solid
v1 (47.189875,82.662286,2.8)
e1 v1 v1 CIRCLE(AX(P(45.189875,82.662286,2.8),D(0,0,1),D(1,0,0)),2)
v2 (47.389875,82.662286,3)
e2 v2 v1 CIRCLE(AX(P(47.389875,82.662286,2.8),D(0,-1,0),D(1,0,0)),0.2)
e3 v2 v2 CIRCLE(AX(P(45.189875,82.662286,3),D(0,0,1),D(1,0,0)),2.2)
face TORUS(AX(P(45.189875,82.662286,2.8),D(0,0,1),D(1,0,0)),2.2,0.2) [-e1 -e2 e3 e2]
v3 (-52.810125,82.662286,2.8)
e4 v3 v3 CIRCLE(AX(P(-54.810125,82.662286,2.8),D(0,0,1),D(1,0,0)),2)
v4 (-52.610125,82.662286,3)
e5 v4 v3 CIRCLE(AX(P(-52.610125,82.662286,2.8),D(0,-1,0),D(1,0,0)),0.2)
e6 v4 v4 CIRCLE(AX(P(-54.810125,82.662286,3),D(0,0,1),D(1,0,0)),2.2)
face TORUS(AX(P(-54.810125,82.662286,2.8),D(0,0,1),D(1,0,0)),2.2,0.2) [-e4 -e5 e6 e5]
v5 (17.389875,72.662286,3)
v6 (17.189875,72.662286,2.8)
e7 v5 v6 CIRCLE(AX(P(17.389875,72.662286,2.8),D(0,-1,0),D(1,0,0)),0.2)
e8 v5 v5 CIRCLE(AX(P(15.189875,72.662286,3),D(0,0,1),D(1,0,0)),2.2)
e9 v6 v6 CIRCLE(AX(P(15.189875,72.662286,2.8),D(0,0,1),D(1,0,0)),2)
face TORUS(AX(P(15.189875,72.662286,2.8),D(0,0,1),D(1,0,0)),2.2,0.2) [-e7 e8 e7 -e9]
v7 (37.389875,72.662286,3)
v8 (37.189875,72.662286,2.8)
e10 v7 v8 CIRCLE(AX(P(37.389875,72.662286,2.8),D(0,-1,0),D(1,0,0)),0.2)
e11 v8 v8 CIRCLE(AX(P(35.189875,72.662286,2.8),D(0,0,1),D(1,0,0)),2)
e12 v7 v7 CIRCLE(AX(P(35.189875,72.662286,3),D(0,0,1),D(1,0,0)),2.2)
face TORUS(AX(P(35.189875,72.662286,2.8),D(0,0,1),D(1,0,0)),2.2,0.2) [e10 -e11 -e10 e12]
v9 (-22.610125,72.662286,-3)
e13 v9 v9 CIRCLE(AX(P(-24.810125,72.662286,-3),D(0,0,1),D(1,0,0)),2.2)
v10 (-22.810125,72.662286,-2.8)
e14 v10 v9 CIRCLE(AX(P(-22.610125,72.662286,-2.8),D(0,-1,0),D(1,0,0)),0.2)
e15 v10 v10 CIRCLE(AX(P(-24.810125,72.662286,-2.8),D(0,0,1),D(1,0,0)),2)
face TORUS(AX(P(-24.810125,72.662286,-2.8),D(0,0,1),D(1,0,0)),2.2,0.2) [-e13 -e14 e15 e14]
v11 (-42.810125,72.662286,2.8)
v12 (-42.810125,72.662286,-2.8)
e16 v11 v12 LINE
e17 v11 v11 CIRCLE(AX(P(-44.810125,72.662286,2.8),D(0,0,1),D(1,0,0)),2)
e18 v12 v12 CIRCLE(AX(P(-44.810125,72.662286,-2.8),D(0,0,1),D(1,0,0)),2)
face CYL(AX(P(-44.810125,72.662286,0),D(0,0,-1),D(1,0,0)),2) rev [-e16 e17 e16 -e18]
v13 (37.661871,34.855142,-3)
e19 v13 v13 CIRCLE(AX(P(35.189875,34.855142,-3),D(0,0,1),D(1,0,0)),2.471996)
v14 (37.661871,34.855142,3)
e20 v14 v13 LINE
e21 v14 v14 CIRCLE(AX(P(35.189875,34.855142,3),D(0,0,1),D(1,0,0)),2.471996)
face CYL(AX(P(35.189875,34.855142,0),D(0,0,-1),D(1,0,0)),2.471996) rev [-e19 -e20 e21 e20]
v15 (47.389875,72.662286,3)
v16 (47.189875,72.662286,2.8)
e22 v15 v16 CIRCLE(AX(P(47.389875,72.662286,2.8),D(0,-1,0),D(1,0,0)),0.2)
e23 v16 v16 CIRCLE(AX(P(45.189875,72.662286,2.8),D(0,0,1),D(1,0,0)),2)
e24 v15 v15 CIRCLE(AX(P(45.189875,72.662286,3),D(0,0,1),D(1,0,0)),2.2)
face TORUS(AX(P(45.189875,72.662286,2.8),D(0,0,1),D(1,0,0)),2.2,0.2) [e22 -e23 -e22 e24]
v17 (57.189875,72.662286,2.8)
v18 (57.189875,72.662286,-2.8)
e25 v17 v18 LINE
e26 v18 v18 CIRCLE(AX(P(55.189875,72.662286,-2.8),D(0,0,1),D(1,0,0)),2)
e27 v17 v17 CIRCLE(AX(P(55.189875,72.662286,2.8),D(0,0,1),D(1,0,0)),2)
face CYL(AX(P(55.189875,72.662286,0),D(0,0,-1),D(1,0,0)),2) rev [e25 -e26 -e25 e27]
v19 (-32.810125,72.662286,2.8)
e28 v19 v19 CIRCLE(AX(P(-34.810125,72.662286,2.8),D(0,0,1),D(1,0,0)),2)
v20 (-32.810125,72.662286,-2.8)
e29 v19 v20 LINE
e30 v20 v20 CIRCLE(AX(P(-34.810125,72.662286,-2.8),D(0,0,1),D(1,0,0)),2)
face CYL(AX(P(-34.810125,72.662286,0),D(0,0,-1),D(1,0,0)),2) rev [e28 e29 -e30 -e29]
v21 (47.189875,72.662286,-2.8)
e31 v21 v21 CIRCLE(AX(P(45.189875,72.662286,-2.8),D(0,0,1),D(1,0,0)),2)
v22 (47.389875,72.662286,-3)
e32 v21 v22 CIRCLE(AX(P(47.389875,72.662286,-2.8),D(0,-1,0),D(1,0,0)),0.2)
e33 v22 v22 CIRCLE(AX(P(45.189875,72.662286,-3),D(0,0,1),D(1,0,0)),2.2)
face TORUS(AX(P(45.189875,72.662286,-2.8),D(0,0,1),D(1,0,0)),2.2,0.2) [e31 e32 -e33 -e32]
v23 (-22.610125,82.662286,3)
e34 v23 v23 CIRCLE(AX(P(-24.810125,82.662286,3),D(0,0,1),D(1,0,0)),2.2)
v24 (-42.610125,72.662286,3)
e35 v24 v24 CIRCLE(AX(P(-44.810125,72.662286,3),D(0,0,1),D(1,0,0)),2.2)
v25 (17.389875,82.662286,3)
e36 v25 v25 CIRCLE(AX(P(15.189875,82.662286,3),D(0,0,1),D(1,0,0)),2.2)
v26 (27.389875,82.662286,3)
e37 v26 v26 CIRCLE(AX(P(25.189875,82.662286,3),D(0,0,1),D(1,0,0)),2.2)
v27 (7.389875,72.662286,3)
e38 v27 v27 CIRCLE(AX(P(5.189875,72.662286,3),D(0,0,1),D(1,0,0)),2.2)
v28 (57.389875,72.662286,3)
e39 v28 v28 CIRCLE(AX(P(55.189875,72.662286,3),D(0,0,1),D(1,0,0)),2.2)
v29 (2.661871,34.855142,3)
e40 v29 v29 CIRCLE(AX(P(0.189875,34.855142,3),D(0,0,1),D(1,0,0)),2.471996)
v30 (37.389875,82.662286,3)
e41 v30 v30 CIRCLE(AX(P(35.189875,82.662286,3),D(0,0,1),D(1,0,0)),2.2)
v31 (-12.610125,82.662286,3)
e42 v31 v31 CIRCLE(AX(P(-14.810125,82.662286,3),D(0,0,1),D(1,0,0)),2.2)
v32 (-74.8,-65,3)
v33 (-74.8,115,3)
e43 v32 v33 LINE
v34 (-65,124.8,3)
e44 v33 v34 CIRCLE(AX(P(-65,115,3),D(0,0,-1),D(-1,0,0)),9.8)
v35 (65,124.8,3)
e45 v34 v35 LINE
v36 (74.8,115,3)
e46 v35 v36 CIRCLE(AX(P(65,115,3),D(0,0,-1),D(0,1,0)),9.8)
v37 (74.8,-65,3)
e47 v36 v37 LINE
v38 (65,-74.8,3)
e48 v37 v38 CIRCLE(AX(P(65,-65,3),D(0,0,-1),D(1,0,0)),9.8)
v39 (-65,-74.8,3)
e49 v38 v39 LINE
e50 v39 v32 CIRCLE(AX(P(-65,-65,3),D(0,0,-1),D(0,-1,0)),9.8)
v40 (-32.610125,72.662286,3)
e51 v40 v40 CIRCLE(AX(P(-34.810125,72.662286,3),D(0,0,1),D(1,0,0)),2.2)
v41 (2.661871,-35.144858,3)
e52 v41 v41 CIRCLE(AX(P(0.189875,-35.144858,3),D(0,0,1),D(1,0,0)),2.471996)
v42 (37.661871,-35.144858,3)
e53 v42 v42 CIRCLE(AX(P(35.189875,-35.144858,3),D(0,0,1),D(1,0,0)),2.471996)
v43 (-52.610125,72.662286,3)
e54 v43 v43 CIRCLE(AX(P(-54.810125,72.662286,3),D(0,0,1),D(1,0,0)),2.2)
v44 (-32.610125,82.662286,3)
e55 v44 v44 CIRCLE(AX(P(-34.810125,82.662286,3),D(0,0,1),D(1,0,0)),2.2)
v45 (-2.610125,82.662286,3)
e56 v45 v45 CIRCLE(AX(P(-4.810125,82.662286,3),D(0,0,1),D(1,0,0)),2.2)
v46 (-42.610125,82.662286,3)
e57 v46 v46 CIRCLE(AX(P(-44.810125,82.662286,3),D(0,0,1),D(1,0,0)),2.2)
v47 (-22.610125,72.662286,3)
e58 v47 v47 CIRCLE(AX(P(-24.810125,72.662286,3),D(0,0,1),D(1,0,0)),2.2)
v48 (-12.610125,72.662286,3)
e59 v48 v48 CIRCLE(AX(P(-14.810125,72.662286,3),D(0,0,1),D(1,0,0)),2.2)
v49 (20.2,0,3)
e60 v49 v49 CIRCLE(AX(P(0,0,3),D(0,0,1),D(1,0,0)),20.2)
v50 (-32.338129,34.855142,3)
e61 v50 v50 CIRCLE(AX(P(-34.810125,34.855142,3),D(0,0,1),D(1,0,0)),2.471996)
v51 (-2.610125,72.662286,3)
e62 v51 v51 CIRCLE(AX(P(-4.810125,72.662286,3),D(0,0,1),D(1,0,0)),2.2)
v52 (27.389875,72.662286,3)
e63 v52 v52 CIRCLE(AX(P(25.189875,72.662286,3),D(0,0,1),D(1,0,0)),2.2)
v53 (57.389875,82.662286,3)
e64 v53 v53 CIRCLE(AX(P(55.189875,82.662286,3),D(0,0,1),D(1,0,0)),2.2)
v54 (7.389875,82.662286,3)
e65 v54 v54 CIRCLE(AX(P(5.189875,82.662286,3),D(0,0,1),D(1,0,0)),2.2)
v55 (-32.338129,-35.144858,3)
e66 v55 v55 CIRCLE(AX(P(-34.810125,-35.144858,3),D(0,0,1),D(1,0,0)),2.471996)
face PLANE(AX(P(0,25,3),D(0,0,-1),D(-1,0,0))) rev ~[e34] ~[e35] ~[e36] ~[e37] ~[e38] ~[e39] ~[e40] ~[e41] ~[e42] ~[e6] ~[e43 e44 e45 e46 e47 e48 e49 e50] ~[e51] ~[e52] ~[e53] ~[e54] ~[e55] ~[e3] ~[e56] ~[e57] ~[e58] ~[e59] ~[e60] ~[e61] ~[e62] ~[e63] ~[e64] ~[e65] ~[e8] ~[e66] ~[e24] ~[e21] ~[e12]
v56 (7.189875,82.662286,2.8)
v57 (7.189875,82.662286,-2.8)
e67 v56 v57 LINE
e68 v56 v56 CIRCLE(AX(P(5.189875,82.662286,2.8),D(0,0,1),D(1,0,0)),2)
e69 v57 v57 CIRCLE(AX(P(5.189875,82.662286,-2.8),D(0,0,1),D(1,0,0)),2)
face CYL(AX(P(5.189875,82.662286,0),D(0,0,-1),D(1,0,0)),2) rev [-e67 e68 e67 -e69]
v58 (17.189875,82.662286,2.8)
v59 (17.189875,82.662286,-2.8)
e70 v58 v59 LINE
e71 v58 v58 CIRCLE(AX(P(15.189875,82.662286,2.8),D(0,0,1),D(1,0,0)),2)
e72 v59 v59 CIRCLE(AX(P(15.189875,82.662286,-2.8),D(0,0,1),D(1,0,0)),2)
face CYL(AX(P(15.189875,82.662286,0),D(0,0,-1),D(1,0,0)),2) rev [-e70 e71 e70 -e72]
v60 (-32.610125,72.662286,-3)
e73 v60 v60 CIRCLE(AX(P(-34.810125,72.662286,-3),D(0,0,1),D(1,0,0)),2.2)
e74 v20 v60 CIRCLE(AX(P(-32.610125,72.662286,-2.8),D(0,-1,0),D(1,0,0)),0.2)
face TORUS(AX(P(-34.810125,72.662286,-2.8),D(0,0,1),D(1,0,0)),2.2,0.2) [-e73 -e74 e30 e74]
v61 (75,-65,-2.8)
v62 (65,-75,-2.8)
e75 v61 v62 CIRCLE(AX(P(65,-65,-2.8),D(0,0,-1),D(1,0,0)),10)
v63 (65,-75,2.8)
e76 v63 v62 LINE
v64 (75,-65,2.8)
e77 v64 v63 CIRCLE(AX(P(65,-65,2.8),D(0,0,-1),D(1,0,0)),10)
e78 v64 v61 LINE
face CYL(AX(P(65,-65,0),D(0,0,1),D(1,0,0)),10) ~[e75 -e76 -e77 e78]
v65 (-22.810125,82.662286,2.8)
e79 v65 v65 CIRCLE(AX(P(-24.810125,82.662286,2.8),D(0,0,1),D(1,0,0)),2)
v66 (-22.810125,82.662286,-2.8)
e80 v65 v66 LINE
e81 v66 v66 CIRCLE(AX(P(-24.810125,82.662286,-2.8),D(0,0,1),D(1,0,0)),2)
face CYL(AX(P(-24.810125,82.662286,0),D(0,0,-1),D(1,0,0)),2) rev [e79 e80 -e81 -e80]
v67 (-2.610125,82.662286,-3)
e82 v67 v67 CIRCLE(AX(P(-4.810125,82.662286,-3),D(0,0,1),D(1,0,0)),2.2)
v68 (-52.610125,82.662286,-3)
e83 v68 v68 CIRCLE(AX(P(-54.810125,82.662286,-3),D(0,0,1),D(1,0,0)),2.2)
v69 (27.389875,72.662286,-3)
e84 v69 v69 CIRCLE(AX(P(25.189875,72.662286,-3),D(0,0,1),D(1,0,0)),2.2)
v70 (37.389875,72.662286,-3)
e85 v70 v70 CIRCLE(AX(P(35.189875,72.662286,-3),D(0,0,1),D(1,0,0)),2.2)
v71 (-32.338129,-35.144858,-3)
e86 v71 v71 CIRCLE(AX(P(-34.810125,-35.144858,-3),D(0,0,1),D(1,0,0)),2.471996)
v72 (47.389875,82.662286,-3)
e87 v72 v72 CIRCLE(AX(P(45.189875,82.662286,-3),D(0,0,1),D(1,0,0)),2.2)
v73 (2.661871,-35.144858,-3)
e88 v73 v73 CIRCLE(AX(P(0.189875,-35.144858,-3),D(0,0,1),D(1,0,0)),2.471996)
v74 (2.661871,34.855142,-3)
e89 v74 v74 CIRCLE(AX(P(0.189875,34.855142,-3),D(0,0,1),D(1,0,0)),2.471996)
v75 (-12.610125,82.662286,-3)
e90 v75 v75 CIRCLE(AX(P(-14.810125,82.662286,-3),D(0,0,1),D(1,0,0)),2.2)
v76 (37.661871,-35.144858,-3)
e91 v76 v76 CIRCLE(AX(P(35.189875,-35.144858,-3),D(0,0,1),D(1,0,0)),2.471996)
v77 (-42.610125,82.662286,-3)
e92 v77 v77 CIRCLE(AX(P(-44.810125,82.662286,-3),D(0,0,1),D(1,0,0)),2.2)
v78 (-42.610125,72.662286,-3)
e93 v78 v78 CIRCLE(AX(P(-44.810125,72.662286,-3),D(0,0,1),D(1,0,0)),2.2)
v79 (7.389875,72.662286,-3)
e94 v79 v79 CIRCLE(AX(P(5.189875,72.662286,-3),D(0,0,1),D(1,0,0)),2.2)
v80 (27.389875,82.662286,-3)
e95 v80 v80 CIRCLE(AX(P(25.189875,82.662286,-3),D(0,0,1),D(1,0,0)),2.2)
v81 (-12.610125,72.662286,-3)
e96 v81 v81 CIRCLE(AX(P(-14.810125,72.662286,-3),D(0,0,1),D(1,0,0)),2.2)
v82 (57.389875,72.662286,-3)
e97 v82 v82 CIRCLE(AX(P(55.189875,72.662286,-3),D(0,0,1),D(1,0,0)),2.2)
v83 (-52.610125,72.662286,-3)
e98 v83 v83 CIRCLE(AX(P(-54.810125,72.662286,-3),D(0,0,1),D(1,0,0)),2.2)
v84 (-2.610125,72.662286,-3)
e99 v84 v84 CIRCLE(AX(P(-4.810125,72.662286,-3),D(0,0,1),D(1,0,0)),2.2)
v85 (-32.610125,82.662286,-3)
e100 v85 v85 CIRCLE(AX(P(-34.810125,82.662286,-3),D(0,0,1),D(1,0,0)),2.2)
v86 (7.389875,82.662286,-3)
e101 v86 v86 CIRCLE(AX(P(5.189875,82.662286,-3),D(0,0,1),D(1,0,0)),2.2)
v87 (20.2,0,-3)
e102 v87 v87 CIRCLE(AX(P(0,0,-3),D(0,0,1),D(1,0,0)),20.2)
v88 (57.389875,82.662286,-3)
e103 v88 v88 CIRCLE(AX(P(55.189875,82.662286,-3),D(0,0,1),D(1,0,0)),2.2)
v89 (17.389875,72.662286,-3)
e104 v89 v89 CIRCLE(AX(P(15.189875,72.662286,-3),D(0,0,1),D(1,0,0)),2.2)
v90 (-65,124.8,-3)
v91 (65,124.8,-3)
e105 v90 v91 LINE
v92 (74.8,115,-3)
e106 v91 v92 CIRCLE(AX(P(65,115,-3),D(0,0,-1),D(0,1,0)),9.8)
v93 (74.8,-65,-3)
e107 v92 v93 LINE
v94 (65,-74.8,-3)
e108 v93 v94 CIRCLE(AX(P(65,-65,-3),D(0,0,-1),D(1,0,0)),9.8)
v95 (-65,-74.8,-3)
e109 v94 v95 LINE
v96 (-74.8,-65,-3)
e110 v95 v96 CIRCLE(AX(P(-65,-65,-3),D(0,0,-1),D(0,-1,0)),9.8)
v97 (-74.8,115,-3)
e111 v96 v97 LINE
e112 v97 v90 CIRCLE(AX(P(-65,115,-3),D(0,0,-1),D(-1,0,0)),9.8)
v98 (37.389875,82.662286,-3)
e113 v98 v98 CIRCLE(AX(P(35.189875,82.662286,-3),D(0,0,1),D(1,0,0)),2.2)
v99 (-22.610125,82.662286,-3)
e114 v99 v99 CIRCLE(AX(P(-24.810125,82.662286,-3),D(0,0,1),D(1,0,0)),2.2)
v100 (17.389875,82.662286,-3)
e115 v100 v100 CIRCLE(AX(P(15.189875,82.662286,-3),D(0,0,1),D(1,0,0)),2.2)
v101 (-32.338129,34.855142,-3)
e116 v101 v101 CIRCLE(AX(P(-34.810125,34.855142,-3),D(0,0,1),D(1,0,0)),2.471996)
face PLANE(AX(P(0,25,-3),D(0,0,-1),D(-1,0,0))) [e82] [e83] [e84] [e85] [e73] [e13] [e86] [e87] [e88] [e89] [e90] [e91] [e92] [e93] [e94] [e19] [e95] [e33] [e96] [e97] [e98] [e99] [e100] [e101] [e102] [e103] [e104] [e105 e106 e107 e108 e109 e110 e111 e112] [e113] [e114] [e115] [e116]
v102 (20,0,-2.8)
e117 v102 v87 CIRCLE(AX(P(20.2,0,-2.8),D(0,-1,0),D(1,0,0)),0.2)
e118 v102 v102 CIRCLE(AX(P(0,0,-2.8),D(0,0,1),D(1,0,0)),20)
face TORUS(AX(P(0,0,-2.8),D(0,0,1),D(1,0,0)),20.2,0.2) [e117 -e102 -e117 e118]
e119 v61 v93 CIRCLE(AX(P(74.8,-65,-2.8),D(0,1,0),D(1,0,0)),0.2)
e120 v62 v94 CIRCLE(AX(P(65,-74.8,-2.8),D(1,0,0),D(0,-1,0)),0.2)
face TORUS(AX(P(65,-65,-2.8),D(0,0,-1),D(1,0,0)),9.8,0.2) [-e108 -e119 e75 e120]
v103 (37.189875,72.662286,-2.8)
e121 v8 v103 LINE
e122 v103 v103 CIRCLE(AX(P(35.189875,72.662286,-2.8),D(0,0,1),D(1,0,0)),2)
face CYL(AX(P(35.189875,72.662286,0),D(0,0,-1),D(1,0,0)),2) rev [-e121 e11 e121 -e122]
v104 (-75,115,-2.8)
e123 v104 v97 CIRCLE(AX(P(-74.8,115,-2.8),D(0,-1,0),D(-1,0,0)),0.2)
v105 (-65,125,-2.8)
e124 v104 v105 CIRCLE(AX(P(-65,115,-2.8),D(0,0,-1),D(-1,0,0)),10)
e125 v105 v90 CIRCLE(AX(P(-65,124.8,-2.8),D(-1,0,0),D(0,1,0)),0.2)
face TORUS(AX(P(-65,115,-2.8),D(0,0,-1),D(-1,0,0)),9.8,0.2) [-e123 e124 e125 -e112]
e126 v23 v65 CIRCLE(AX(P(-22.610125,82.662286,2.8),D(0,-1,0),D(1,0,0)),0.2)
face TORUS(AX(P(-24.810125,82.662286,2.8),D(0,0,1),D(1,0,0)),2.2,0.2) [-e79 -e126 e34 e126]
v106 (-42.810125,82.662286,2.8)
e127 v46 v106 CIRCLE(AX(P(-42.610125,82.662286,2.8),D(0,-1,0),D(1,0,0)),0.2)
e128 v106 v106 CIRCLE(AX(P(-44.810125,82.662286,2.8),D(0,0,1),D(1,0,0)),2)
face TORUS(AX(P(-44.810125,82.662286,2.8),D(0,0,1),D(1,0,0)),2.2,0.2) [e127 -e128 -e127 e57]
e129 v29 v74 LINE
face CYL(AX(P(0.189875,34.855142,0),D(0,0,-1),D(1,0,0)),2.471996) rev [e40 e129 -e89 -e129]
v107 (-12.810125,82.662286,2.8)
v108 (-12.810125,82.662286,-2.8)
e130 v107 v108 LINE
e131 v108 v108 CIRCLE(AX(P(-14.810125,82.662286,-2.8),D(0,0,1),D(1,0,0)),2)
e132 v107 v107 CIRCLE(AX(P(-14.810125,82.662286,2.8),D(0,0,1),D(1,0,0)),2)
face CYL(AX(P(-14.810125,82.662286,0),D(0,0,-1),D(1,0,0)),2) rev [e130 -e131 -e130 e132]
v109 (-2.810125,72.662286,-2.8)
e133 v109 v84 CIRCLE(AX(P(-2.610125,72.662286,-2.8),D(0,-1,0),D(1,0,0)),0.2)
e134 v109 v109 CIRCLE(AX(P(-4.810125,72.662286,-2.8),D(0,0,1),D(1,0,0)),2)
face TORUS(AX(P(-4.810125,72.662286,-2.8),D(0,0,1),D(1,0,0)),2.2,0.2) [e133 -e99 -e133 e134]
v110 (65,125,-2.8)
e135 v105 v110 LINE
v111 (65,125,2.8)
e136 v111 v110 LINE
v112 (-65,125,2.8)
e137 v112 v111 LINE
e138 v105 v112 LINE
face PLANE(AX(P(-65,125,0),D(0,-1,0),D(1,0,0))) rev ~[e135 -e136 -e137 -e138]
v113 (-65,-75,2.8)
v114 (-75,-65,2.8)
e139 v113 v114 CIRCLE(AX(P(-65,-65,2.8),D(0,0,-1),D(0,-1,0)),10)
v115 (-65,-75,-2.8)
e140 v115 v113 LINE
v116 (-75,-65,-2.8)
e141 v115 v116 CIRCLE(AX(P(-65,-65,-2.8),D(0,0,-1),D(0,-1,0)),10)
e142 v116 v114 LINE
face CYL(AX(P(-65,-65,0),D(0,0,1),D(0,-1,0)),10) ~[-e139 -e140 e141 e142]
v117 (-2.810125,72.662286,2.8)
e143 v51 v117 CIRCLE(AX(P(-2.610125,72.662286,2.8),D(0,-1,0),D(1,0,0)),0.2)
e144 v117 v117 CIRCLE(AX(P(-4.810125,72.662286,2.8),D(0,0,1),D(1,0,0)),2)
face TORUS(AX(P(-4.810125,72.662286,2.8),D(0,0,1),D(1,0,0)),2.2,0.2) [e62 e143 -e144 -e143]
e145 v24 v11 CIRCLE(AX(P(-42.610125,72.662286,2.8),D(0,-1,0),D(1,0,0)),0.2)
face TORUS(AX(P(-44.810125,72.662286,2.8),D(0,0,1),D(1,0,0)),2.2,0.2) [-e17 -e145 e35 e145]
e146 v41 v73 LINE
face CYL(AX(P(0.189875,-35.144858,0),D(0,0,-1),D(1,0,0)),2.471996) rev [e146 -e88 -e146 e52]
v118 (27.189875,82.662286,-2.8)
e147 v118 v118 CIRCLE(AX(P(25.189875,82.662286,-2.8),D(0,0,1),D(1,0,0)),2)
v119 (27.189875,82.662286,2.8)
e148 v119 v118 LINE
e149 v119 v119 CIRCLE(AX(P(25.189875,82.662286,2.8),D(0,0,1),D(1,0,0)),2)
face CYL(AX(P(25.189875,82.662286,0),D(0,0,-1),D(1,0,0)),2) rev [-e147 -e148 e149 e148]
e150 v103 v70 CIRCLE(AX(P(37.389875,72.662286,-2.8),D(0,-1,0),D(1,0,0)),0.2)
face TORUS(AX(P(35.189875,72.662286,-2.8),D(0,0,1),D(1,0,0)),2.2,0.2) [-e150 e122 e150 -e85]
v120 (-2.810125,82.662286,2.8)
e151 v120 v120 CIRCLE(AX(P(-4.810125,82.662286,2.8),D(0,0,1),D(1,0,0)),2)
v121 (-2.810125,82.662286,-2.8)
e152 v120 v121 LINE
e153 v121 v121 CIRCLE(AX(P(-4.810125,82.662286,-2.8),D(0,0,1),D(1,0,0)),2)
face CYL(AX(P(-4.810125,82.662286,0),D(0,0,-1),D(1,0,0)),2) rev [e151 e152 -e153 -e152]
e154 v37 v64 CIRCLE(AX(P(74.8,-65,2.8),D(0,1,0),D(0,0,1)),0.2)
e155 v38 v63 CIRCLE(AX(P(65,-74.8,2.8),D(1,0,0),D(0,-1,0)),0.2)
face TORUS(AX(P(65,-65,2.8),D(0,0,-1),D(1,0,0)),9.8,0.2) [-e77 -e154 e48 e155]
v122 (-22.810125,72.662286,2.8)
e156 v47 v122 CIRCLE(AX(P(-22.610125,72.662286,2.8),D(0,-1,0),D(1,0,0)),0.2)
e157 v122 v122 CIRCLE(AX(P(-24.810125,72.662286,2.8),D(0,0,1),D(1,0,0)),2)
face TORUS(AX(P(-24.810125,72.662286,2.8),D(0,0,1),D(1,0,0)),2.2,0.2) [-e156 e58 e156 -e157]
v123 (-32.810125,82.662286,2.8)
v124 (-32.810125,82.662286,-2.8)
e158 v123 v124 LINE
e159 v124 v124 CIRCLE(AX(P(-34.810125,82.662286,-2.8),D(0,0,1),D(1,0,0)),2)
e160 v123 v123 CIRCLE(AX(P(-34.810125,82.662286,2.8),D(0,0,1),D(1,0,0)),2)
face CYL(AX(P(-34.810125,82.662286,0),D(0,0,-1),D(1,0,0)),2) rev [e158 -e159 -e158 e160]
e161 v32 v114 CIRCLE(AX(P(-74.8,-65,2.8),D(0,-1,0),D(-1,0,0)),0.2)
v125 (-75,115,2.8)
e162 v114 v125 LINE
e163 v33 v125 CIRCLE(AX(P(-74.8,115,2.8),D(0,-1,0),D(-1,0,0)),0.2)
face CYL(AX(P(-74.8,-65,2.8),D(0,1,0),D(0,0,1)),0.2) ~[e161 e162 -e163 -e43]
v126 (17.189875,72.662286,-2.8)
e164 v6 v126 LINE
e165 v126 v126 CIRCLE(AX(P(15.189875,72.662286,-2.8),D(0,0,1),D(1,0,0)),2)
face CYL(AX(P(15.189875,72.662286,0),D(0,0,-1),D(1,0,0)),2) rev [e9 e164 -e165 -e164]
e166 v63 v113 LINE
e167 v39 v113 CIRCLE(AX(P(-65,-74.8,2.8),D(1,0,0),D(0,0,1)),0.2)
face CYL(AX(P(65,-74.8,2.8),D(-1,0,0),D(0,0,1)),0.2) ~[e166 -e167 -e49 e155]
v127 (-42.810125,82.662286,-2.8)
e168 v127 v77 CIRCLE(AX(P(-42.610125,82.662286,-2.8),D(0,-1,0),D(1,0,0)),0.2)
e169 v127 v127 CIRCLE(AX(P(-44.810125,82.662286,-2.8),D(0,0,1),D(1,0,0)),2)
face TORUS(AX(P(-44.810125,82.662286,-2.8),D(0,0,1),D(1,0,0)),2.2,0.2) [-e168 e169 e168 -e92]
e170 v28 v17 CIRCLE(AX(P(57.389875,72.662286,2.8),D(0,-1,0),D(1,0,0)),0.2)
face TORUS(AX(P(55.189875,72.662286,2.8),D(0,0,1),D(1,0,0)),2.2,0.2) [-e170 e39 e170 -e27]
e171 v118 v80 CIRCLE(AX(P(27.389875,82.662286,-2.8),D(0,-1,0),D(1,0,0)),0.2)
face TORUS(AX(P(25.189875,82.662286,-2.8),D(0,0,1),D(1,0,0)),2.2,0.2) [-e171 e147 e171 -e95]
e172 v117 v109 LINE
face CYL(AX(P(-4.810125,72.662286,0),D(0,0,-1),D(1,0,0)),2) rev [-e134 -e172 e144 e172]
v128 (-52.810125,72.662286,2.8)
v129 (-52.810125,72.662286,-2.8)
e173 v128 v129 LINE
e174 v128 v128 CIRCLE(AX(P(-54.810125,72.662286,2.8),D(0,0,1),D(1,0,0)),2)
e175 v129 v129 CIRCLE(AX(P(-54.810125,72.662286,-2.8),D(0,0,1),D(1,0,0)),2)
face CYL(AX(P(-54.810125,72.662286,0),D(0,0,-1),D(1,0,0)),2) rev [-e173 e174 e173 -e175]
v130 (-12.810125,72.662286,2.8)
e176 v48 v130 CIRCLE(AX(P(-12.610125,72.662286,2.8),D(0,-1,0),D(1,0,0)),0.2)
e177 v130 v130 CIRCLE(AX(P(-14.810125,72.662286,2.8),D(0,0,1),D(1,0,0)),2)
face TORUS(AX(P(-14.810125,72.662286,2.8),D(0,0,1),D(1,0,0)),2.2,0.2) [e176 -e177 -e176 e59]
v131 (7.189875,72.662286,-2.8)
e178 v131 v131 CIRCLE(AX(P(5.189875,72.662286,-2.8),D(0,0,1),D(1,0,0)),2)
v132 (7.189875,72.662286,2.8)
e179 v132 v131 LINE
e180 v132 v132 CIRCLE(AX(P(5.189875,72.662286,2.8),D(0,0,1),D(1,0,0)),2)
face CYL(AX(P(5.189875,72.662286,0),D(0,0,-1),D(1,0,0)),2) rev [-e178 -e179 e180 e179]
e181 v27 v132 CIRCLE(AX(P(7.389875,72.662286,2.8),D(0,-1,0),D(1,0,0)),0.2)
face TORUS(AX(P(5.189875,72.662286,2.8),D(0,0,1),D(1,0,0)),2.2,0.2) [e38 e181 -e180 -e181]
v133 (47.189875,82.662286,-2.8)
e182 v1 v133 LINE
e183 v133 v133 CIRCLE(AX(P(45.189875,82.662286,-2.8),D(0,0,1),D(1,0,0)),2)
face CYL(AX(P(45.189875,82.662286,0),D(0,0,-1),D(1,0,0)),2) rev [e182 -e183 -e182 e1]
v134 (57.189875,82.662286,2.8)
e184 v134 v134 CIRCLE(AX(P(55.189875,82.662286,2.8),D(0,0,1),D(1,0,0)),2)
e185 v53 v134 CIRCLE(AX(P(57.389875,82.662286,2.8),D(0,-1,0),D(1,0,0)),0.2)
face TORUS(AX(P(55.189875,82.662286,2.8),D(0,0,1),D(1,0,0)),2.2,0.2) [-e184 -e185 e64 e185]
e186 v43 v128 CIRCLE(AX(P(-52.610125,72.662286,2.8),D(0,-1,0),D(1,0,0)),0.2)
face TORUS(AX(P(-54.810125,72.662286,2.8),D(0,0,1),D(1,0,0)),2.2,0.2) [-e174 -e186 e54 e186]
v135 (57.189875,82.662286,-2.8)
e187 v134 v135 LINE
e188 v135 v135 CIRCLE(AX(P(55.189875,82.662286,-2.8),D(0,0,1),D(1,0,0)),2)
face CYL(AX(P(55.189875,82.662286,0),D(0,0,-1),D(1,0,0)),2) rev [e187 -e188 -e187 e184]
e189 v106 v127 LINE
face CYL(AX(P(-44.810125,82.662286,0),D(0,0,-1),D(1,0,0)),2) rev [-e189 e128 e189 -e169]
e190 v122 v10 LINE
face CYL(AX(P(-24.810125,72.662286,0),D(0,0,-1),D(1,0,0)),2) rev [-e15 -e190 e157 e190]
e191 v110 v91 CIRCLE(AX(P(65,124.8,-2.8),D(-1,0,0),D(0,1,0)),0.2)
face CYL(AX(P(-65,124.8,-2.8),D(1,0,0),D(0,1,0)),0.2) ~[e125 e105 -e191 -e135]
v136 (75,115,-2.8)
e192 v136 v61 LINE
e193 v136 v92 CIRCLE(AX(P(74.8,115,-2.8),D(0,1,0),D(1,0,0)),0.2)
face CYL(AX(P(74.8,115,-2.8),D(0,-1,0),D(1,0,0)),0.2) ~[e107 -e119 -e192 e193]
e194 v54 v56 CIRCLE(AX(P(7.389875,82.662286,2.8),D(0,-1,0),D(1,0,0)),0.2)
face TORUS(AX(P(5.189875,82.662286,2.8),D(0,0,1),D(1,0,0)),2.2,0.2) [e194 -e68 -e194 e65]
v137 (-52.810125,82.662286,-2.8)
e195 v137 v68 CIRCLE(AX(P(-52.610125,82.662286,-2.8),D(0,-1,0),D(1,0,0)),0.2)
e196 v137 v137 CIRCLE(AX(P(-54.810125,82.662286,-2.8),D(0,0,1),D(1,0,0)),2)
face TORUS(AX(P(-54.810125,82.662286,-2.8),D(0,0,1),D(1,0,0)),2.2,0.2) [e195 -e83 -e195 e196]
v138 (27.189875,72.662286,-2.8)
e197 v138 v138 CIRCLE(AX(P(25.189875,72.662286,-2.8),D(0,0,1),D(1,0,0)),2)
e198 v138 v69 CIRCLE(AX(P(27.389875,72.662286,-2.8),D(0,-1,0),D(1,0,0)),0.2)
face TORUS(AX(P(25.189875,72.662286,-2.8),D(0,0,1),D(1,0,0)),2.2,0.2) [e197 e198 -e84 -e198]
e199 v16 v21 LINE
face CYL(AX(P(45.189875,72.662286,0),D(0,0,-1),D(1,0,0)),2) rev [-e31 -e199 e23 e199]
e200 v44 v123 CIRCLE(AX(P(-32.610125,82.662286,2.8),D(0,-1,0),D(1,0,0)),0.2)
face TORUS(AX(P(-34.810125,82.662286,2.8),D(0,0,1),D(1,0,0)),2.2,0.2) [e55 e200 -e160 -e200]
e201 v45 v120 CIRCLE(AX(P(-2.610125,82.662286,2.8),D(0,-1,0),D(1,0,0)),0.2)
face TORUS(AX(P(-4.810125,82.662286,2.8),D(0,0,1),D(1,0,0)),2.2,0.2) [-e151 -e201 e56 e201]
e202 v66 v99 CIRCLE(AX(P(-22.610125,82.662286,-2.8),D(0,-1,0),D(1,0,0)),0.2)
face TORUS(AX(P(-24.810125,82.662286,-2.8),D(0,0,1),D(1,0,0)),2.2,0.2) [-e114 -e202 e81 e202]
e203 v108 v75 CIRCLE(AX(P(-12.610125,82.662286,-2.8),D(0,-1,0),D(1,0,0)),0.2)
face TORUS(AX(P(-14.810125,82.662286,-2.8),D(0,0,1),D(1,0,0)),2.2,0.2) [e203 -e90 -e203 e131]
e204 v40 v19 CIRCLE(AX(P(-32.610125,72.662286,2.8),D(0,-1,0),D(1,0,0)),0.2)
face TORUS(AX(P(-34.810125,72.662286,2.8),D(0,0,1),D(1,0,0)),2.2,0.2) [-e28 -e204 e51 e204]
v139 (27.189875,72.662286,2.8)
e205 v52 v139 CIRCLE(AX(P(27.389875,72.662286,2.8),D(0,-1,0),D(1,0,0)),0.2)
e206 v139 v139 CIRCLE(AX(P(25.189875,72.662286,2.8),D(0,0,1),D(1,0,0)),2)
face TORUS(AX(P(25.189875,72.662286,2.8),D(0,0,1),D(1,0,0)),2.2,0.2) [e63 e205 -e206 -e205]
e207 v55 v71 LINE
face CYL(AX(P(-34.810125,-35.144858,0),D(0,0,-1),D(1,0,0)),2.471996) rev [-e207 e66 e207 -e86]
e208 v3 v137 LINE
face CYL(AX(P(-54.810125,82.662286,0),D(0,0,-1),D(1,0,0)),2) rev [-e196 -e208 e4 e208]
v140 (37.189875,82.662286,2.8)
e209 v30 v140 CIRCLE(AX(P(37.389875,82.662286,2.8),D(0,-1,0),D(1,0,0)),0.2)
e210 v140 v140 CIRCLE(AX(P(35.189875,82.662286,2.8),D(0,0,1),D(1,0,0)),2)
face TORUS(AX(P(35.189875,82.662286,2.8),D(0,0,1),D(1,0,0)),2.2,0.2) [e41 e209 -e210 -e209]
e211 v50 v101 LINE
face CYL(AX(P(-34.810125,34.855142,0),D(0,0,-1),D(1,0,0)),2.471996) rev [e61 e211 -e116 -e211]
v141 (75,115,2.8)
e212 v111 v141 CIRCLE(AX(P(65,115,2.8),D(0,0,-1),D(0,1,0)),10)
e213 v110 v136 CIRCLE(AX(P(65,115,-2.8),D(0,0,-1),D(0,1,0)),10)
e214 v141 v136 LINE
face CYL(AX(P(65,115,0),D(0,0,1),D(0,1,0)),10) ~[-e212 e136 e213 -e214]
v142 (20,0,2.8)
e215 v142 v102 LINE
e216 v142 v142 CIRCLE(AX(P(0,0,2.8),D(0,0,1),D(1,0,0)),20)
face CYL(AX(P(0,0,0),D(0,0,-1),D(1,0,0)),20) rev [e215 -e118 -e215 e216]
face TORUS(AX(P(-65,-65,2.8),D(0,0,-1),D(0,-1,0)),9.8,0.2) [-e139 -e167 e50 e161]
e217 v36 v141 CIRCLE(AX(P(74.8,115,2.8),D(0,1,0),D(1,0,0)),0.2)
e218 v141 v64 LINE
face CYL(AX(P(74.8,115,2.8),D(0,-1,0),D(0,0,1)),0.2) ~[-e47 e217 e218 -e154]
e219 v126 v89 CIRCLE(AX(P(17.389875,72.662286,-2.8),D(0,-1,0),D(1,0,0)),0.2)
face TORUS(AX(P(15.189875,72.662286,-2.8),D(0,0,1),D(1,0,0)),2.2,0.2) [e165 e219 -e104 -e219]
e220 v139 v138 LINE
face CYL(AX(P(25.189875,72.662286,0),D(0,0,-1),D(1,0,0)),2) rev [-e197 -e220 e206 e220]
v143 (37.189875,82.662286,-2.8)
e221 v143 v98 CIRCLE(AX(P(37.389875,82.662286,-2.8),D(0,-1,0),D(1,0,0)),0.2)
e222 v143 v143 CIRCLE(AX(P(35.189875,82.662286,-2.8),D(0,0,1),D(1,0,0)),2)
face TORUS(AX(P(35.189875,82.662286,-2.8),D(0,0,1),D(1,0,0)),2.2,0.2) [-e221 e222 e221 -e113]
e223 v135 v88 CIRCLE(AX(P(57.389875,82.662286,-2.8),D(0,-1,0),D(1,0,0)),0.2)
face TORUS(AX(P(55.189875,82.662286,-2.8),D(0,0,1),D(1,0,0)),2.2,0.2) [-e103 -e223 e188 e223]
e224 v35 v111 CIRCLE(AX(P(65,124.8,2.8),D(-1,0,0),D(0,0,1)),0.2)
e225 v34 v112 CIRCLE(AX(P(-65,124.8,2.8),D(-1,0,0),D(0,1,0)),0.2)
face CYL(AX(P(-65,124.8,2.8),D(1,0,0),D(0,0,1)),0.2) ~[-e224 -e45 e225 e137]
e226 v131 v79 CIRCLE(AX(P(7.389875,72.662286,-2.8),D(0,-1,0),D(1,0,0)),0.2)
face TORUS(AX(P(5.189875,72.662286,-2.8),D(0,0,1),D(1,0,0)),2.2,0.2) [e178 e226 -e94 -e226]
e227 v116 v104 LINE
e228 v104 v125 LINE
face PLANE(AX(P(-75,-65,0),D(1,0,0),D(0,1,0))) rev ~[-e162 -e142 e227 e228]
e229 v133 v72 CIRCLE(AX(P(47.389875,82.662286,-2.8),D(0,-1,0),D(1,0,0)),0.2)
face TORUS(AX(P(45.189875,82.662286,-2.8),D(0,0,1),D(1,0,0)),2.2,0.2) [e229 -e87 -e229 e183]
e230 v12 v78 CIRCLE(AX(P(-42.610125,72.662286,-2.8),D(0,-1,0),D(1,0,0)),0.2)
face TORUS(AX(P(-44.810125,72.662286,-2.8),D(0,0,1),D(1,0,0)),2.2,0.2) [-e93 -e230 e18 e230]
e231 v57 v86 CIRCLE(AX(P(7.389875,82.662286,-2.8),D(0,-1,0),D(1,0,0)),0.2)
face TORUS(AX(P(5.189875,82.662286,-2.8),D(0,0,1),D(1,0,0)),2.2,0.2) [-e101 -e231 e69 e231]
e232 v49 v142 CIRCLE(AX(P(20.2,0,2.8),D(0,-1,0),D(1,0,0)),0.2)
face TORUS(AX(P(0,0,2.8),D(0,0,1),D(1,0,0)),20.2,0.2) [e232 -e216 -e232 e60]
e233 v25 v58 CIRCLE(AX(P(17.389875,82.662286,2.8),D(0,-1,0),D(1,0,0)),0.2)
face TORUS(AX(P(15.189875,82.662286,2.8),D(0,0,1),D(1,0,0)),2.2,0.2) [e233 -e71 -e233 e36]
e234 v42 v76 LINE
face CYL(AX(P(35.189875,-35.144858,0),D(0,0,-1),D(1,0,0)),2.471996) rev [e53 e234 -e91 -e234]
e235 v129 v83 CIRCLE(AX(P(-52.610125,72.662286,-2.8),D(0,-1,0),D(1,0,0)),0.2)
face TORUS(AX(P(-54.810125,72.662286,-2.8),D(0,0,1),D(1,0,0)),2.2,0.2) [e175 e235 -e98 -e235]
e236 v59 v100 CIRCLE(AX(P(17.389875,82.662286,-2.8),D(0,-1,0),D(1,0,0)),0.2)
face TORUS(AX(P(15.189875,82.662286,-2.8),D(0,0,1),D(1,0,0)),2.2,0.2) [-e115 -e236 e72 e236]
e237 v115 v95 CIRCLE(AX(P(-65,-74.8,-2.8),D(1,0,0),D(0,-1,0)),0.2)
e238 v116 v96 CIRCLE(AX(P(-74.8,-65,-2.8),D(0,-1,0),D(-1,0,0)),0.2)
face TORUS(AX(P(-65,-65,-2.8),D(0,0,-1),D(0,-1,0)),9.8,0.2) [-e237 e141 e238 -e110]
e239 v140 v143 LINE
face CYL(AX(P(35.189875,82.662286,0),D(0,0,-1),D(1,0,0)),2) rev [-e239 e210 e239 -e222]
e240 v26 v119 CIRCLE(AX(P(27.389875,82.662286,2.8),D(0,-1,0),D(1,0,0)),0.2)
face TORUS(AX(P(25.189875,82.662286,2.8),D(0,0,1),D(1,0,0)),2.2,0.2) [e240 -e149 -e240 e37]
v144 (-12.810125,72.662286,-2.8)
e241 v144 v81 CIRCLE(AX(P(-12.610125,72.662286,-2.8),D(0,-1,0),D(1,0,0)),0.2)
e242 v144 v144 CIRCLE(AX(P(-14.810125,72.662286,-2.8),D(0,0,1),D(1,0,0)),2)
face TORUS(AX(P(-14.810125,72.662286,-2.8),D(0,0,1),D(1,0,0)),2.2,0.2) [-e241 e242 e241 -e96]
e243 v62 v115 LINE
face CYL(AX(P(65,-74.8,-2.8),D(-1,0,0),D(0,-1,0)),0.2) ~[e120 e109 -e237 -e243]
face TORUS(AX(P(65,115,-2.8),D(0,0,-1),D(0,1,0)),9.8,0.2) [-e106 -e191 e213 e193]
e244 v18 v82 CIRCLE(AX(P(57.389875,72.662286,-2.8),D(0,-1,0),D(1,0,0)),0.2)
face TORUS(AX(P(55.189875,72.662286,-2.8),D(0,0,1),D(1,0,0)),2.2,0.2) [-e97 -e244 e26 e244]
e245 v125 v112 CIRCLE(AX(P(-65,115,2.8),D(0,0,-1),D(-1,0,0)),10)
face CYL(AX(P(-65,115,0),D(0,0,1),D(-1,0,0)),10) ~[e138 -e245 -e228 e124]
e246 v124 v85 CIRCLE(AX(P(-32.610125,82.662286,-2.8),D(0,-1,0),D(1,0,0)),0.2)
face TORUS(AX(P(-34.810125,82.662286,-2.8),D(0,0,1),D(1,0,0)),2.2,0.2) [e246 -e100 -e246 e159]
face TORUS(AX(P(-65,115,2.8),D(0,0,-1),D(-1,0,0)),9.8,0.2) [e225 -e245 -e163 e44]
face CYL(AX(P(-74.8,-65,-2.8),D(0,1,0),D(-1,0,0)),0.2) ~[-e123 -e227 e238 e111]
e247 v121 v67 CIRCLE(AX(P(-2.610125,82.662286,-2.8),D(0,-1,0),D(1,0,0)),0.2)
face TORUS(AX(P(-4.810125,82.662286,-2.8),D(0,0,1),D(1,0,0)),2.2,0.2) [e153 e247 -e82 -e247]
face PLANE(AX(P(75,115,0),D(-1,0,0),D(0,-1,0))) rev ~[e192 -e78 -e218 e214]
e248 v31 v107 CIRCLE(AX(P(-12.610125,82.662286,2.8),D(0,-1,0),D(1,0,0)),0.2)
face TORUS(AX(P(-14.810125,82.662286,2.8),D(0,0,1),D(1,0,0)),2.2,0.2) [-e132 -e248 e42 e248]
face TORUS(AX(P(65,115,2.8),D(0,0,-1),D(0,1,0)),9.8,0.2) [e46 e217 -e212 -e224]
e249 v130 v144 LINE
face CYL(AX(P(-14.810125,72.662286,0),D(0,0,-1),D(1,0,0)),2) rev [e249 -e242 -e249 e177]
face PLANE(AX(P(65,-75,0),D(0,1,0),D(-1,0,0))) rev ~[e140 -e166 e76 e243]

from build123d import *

# Parameters (mm, degrees)
SKETCH1_R           = 20
SKETCH1_R_2         = 2
SKETCH1_R_3         = 2.471995878
BOSS_EXTRUDE1_DEPTH = 3
FILLET2_R           = 0.2


with BuildPart() as part:
    # Sketch1 → Boss-Extrude1 (new body, symmetric)
    with BuildSketch(Plane.XY):
        with BuildLine():
            Line((-65, 125), (65, 125))
            ThreePointArc((65, 125), (72.071067812, 122.071067812), (75, 115))
            Line((75, 115), (75, -65))
            ThreePointArc((75, -65), (72.071067812, -72.071067812), (65, -75))
            Line((65, -75), (-65, -75))
            ThreePointArc((-65, -75), (-72.071067812, -72.071067812), (-75, -65))
            Line((-75, -65), (-75, 115))
            ThreePointArc((-75, 115), (-72.071067812, 122.071067812), (-65, 125))
        make_face()
        Circle(SKETCH1_R, mode=Mode.SUBTRACT)
        with Locations((-54.810125332, 72.662286143)):
            Circle(SKETCH1_R_2, mode=Mode.SUBTRACT)
        with Locations((-44.810125332, 72.662286143)):
            Circle(SKETCH1_R_2, mode=Mode.SUBTRACT)
        with Locations((-34.810125332, 72.662286143)):
            Circle(SKETCH1_R_2, mode=Mode.SUBTRACT)
        with Locations((-24.810125332, 72.662286143)):
            Circle(SKETCH1_R_2, mode=Mode.SUBTRACT)
        with Locations((-14.810125332, 72.662286143)):
            Circle(SKETCH1_R_2, mode=Mode.SUBTRACT)
        with Locations((-4.810125332, 72.662286143)):
            Circle(SKETCH1_R_2, mode=Mode.SUBTRACT)
        with Locations((5.189874668, 72.662286143)):
            Circle(SKETCH1_R_2, mode=Mode.SUBTRACT)
        with Locations((15.189874668, 72.662286143)):
            Circle(SKETCH1_R_2, mode=Mode.SUBTRACT)
        with Locations((25.189874668, 72.662286143)):
            Circle(SKETCH1_R_2, mode=Mode.SUBTRACT)
        with Locations((35.189874668, 72.662286143)):
            Circle(SKETCH1_R_2, mode=Mode.SUBTRACT)
        with Locations((45.189874668, 72.662286143)):
            Circle(SKETCH1_R_2, mode=Mode.SUBTRACT)
        with Locations((55.189874668, 72.662286143)):
            Circle(SKETCH1_R_2, mode=Mode.SUBTRACT)
        with Locations((-44.810125332, 82.662286143)):
            Circle(SKETCH1_R_2, mode=Mode.SUBTRACT)
        with Locations((-34.810125332, 82.662286143)):
            Circle(SKETCH1_R_2, mode=Mode.SUBTRACT)
        with Locations((-24.810125332, 82.662286143)):
            Circle(SKETCH1_R_2, mode=Mode.SUBTRACT)
        with Locations((-14.810125332, 82.662286143)):
            Circle(SKETCH1_R_2, mode=Mode.SUBTRACT)
        with Locations((-4.810125332, 82.662286143)):
            Circle(SKETCH1_R_2, mode=Mode.SUBTRACT)
        with Locations((5.189874668, 82.662286143)):
            Circle(SKETCH1_R_2, mode=Mode.SUBTRACT)
        with Locations((15.189874668, 82.662286143)):
            Circle(SKETCH1_R_2, mode=Mode.SUBTRACT)
        with Locations((25.189874668, 82.662286143)):
            Circle(SKETCH1_R_2, mode=Mode.SUBTRACT)
        with Locations((35.189874668, 82.662286143)):
            Circle(SKETCH1_R_2, mode=Mode.SUBTRACT)
        with Locations((45.189874668, 82.662286143)):
            Circle(SKETCH1_R_2, mode=Mode.SUBTRACT)
        with Locations((55.189874668, 82.662286143)):
            Circle(SKETCH1_R_2, mode=Mode.SUBTRACT)
        with Locations((-54.810125332, 82.662286143)):
            Circle(SKETCH1_R_2, mode=Mode.SUBTRACT)
        with Locations((35.189874668, 34.855141881)):
            Circle(SKETCH1_R_3, mode=Mode.SUBTRACT)
        with Locations((0.189874668, 34.855141881)):
            Circle(SKETCH1_R_3, mode=Mode.SUBTRACT)
        with Locations((-34.810125332, 34.855141881)):
            Circle(SKETCH1_R_3, mode=Mode.SUBTRACT)
        with Locations((0.189874668, -35.144858119)):
            Circle(SKETCH1_R_3, mode=Mode.SUBTRACT)
        with Locations((-34.810125332, -35.144858119)):
            Circle(SKETCH1_R_3, mode=Mode.SUBTRACT)
        with Locations((35.189874668, -35.144858119)):
            Circle(SKETCH1_R_3, mode=Mode.SUBTRACT)
    extrude(amount=BOSS_EXTRUDE1_DEPTH, both=True)

    # Fillet2
    fillet2_edges = [part.edges().sort_by_distance(p)[0] for p in [
        (33.189874668, 82.662286143, -3),
        (33.189874668, 82.662286143, 3),
        (-75, 25, -3),
        (43.189874668, 82.662286143, -3),
        (43.189874668, 82.662286143, 3),
        (-72.071067812, 122.071067812, -3),
        (53.189874668, 82.662286143, -3),
        (53.189874668, 82.662286143, 3),
        (0, 125, -3),
        (-56.810125332, 82.662286143, -3),
        (-56.810125332, 82.662286143, 3),
        (72.071067812, 122.071067812, -3),
        (-72.071067812, 122.071067812, 3),
        (-75, 25, 3),
        (-72.071067812, -72.071067812, 3),
        (-20, 0, -3),
        (-20, 0, 3),
        (0, -75, 3),
        (-56.810125332, 72.662286143, -3),
        (-56.810125332, 72.662286143, 3),
        (72.071067812, -72.071067812, 3),
        (-46.810125332, 72.662286143, -3),
        (-46.810125332, 72.662286143, 3),
        (75, 25, 3),
        (-36.810125332, 72.662286143, -3),
        (-36.810125332, 72.662286143, 3),
        (-26.810125332, 72.662286143, -3),
        (-26.810125332, 72.662286143, 3),
        (-16.810125332, 72.662286143, -3),
        (-16.810125332, 72.662286143, 3),
        (-6.810125332, 72.662286143, -3),
        (-6.810125332, 72.662286143, 3),
        (3.189874668, 72.662286143, -3),
        (3.189874668, 72.662286143, 3),
        (72.071067812, 122.071067812, 3),
        (13.189874668, 72.662286143, -3),
        (13.189874668, 72.662286143, 3),
        (23.189874668, 72.662286143, -3),
        (23.189874668, 72.662286143, 3),
        (33.189874668, 72.662286143, -3),
        (33.189874668, 72.662286143, 3),
        (43.189874668, 72.662286143, -3),
        (43.189874668, 72.662286143, 3),
        (53.189874668, 72.662286143, -3),
        (53.189874668, 72.662286143, 3),
        (-46.810125332, 82.662286143, -3),
        (-46.810125332, 82.662286143, 3),
        (-36.810125332, 82.662286143, -3),
        (-36.810125332, 82.662286143, 3),
        (-26.810125332, 82.662286143, -3),
        (-26.810125332, 82.662286143, 3),
        (-16.810125332, 82.662286143, -3),
        (-16.810125332, 82.662286143, 3),
        (75, 25, -3),
        (-6.810125332, 82.662286143, -3),
        (-6.810125332, 82.662286143, 3),
        (0, 125, 3),
        (72.071067812, -72.071067812, -3),
        (3.189874668, 82.662286143, -3),
        (3.189874668, 82.662286143, 3),
        (13.189874668, 82.662286143, -3),
        (0, -75, -3),
        (13.189874668, 82.662286143, 3),
        (23.189874668, 82.662286143, -3),
        (-72.071067812, -72.071067812, -3),
        (23.189874668, 82.662286143, 3),
    ]]
    fillet(fillet2_edges, radius=FILLET2_R)


solid = part.part
